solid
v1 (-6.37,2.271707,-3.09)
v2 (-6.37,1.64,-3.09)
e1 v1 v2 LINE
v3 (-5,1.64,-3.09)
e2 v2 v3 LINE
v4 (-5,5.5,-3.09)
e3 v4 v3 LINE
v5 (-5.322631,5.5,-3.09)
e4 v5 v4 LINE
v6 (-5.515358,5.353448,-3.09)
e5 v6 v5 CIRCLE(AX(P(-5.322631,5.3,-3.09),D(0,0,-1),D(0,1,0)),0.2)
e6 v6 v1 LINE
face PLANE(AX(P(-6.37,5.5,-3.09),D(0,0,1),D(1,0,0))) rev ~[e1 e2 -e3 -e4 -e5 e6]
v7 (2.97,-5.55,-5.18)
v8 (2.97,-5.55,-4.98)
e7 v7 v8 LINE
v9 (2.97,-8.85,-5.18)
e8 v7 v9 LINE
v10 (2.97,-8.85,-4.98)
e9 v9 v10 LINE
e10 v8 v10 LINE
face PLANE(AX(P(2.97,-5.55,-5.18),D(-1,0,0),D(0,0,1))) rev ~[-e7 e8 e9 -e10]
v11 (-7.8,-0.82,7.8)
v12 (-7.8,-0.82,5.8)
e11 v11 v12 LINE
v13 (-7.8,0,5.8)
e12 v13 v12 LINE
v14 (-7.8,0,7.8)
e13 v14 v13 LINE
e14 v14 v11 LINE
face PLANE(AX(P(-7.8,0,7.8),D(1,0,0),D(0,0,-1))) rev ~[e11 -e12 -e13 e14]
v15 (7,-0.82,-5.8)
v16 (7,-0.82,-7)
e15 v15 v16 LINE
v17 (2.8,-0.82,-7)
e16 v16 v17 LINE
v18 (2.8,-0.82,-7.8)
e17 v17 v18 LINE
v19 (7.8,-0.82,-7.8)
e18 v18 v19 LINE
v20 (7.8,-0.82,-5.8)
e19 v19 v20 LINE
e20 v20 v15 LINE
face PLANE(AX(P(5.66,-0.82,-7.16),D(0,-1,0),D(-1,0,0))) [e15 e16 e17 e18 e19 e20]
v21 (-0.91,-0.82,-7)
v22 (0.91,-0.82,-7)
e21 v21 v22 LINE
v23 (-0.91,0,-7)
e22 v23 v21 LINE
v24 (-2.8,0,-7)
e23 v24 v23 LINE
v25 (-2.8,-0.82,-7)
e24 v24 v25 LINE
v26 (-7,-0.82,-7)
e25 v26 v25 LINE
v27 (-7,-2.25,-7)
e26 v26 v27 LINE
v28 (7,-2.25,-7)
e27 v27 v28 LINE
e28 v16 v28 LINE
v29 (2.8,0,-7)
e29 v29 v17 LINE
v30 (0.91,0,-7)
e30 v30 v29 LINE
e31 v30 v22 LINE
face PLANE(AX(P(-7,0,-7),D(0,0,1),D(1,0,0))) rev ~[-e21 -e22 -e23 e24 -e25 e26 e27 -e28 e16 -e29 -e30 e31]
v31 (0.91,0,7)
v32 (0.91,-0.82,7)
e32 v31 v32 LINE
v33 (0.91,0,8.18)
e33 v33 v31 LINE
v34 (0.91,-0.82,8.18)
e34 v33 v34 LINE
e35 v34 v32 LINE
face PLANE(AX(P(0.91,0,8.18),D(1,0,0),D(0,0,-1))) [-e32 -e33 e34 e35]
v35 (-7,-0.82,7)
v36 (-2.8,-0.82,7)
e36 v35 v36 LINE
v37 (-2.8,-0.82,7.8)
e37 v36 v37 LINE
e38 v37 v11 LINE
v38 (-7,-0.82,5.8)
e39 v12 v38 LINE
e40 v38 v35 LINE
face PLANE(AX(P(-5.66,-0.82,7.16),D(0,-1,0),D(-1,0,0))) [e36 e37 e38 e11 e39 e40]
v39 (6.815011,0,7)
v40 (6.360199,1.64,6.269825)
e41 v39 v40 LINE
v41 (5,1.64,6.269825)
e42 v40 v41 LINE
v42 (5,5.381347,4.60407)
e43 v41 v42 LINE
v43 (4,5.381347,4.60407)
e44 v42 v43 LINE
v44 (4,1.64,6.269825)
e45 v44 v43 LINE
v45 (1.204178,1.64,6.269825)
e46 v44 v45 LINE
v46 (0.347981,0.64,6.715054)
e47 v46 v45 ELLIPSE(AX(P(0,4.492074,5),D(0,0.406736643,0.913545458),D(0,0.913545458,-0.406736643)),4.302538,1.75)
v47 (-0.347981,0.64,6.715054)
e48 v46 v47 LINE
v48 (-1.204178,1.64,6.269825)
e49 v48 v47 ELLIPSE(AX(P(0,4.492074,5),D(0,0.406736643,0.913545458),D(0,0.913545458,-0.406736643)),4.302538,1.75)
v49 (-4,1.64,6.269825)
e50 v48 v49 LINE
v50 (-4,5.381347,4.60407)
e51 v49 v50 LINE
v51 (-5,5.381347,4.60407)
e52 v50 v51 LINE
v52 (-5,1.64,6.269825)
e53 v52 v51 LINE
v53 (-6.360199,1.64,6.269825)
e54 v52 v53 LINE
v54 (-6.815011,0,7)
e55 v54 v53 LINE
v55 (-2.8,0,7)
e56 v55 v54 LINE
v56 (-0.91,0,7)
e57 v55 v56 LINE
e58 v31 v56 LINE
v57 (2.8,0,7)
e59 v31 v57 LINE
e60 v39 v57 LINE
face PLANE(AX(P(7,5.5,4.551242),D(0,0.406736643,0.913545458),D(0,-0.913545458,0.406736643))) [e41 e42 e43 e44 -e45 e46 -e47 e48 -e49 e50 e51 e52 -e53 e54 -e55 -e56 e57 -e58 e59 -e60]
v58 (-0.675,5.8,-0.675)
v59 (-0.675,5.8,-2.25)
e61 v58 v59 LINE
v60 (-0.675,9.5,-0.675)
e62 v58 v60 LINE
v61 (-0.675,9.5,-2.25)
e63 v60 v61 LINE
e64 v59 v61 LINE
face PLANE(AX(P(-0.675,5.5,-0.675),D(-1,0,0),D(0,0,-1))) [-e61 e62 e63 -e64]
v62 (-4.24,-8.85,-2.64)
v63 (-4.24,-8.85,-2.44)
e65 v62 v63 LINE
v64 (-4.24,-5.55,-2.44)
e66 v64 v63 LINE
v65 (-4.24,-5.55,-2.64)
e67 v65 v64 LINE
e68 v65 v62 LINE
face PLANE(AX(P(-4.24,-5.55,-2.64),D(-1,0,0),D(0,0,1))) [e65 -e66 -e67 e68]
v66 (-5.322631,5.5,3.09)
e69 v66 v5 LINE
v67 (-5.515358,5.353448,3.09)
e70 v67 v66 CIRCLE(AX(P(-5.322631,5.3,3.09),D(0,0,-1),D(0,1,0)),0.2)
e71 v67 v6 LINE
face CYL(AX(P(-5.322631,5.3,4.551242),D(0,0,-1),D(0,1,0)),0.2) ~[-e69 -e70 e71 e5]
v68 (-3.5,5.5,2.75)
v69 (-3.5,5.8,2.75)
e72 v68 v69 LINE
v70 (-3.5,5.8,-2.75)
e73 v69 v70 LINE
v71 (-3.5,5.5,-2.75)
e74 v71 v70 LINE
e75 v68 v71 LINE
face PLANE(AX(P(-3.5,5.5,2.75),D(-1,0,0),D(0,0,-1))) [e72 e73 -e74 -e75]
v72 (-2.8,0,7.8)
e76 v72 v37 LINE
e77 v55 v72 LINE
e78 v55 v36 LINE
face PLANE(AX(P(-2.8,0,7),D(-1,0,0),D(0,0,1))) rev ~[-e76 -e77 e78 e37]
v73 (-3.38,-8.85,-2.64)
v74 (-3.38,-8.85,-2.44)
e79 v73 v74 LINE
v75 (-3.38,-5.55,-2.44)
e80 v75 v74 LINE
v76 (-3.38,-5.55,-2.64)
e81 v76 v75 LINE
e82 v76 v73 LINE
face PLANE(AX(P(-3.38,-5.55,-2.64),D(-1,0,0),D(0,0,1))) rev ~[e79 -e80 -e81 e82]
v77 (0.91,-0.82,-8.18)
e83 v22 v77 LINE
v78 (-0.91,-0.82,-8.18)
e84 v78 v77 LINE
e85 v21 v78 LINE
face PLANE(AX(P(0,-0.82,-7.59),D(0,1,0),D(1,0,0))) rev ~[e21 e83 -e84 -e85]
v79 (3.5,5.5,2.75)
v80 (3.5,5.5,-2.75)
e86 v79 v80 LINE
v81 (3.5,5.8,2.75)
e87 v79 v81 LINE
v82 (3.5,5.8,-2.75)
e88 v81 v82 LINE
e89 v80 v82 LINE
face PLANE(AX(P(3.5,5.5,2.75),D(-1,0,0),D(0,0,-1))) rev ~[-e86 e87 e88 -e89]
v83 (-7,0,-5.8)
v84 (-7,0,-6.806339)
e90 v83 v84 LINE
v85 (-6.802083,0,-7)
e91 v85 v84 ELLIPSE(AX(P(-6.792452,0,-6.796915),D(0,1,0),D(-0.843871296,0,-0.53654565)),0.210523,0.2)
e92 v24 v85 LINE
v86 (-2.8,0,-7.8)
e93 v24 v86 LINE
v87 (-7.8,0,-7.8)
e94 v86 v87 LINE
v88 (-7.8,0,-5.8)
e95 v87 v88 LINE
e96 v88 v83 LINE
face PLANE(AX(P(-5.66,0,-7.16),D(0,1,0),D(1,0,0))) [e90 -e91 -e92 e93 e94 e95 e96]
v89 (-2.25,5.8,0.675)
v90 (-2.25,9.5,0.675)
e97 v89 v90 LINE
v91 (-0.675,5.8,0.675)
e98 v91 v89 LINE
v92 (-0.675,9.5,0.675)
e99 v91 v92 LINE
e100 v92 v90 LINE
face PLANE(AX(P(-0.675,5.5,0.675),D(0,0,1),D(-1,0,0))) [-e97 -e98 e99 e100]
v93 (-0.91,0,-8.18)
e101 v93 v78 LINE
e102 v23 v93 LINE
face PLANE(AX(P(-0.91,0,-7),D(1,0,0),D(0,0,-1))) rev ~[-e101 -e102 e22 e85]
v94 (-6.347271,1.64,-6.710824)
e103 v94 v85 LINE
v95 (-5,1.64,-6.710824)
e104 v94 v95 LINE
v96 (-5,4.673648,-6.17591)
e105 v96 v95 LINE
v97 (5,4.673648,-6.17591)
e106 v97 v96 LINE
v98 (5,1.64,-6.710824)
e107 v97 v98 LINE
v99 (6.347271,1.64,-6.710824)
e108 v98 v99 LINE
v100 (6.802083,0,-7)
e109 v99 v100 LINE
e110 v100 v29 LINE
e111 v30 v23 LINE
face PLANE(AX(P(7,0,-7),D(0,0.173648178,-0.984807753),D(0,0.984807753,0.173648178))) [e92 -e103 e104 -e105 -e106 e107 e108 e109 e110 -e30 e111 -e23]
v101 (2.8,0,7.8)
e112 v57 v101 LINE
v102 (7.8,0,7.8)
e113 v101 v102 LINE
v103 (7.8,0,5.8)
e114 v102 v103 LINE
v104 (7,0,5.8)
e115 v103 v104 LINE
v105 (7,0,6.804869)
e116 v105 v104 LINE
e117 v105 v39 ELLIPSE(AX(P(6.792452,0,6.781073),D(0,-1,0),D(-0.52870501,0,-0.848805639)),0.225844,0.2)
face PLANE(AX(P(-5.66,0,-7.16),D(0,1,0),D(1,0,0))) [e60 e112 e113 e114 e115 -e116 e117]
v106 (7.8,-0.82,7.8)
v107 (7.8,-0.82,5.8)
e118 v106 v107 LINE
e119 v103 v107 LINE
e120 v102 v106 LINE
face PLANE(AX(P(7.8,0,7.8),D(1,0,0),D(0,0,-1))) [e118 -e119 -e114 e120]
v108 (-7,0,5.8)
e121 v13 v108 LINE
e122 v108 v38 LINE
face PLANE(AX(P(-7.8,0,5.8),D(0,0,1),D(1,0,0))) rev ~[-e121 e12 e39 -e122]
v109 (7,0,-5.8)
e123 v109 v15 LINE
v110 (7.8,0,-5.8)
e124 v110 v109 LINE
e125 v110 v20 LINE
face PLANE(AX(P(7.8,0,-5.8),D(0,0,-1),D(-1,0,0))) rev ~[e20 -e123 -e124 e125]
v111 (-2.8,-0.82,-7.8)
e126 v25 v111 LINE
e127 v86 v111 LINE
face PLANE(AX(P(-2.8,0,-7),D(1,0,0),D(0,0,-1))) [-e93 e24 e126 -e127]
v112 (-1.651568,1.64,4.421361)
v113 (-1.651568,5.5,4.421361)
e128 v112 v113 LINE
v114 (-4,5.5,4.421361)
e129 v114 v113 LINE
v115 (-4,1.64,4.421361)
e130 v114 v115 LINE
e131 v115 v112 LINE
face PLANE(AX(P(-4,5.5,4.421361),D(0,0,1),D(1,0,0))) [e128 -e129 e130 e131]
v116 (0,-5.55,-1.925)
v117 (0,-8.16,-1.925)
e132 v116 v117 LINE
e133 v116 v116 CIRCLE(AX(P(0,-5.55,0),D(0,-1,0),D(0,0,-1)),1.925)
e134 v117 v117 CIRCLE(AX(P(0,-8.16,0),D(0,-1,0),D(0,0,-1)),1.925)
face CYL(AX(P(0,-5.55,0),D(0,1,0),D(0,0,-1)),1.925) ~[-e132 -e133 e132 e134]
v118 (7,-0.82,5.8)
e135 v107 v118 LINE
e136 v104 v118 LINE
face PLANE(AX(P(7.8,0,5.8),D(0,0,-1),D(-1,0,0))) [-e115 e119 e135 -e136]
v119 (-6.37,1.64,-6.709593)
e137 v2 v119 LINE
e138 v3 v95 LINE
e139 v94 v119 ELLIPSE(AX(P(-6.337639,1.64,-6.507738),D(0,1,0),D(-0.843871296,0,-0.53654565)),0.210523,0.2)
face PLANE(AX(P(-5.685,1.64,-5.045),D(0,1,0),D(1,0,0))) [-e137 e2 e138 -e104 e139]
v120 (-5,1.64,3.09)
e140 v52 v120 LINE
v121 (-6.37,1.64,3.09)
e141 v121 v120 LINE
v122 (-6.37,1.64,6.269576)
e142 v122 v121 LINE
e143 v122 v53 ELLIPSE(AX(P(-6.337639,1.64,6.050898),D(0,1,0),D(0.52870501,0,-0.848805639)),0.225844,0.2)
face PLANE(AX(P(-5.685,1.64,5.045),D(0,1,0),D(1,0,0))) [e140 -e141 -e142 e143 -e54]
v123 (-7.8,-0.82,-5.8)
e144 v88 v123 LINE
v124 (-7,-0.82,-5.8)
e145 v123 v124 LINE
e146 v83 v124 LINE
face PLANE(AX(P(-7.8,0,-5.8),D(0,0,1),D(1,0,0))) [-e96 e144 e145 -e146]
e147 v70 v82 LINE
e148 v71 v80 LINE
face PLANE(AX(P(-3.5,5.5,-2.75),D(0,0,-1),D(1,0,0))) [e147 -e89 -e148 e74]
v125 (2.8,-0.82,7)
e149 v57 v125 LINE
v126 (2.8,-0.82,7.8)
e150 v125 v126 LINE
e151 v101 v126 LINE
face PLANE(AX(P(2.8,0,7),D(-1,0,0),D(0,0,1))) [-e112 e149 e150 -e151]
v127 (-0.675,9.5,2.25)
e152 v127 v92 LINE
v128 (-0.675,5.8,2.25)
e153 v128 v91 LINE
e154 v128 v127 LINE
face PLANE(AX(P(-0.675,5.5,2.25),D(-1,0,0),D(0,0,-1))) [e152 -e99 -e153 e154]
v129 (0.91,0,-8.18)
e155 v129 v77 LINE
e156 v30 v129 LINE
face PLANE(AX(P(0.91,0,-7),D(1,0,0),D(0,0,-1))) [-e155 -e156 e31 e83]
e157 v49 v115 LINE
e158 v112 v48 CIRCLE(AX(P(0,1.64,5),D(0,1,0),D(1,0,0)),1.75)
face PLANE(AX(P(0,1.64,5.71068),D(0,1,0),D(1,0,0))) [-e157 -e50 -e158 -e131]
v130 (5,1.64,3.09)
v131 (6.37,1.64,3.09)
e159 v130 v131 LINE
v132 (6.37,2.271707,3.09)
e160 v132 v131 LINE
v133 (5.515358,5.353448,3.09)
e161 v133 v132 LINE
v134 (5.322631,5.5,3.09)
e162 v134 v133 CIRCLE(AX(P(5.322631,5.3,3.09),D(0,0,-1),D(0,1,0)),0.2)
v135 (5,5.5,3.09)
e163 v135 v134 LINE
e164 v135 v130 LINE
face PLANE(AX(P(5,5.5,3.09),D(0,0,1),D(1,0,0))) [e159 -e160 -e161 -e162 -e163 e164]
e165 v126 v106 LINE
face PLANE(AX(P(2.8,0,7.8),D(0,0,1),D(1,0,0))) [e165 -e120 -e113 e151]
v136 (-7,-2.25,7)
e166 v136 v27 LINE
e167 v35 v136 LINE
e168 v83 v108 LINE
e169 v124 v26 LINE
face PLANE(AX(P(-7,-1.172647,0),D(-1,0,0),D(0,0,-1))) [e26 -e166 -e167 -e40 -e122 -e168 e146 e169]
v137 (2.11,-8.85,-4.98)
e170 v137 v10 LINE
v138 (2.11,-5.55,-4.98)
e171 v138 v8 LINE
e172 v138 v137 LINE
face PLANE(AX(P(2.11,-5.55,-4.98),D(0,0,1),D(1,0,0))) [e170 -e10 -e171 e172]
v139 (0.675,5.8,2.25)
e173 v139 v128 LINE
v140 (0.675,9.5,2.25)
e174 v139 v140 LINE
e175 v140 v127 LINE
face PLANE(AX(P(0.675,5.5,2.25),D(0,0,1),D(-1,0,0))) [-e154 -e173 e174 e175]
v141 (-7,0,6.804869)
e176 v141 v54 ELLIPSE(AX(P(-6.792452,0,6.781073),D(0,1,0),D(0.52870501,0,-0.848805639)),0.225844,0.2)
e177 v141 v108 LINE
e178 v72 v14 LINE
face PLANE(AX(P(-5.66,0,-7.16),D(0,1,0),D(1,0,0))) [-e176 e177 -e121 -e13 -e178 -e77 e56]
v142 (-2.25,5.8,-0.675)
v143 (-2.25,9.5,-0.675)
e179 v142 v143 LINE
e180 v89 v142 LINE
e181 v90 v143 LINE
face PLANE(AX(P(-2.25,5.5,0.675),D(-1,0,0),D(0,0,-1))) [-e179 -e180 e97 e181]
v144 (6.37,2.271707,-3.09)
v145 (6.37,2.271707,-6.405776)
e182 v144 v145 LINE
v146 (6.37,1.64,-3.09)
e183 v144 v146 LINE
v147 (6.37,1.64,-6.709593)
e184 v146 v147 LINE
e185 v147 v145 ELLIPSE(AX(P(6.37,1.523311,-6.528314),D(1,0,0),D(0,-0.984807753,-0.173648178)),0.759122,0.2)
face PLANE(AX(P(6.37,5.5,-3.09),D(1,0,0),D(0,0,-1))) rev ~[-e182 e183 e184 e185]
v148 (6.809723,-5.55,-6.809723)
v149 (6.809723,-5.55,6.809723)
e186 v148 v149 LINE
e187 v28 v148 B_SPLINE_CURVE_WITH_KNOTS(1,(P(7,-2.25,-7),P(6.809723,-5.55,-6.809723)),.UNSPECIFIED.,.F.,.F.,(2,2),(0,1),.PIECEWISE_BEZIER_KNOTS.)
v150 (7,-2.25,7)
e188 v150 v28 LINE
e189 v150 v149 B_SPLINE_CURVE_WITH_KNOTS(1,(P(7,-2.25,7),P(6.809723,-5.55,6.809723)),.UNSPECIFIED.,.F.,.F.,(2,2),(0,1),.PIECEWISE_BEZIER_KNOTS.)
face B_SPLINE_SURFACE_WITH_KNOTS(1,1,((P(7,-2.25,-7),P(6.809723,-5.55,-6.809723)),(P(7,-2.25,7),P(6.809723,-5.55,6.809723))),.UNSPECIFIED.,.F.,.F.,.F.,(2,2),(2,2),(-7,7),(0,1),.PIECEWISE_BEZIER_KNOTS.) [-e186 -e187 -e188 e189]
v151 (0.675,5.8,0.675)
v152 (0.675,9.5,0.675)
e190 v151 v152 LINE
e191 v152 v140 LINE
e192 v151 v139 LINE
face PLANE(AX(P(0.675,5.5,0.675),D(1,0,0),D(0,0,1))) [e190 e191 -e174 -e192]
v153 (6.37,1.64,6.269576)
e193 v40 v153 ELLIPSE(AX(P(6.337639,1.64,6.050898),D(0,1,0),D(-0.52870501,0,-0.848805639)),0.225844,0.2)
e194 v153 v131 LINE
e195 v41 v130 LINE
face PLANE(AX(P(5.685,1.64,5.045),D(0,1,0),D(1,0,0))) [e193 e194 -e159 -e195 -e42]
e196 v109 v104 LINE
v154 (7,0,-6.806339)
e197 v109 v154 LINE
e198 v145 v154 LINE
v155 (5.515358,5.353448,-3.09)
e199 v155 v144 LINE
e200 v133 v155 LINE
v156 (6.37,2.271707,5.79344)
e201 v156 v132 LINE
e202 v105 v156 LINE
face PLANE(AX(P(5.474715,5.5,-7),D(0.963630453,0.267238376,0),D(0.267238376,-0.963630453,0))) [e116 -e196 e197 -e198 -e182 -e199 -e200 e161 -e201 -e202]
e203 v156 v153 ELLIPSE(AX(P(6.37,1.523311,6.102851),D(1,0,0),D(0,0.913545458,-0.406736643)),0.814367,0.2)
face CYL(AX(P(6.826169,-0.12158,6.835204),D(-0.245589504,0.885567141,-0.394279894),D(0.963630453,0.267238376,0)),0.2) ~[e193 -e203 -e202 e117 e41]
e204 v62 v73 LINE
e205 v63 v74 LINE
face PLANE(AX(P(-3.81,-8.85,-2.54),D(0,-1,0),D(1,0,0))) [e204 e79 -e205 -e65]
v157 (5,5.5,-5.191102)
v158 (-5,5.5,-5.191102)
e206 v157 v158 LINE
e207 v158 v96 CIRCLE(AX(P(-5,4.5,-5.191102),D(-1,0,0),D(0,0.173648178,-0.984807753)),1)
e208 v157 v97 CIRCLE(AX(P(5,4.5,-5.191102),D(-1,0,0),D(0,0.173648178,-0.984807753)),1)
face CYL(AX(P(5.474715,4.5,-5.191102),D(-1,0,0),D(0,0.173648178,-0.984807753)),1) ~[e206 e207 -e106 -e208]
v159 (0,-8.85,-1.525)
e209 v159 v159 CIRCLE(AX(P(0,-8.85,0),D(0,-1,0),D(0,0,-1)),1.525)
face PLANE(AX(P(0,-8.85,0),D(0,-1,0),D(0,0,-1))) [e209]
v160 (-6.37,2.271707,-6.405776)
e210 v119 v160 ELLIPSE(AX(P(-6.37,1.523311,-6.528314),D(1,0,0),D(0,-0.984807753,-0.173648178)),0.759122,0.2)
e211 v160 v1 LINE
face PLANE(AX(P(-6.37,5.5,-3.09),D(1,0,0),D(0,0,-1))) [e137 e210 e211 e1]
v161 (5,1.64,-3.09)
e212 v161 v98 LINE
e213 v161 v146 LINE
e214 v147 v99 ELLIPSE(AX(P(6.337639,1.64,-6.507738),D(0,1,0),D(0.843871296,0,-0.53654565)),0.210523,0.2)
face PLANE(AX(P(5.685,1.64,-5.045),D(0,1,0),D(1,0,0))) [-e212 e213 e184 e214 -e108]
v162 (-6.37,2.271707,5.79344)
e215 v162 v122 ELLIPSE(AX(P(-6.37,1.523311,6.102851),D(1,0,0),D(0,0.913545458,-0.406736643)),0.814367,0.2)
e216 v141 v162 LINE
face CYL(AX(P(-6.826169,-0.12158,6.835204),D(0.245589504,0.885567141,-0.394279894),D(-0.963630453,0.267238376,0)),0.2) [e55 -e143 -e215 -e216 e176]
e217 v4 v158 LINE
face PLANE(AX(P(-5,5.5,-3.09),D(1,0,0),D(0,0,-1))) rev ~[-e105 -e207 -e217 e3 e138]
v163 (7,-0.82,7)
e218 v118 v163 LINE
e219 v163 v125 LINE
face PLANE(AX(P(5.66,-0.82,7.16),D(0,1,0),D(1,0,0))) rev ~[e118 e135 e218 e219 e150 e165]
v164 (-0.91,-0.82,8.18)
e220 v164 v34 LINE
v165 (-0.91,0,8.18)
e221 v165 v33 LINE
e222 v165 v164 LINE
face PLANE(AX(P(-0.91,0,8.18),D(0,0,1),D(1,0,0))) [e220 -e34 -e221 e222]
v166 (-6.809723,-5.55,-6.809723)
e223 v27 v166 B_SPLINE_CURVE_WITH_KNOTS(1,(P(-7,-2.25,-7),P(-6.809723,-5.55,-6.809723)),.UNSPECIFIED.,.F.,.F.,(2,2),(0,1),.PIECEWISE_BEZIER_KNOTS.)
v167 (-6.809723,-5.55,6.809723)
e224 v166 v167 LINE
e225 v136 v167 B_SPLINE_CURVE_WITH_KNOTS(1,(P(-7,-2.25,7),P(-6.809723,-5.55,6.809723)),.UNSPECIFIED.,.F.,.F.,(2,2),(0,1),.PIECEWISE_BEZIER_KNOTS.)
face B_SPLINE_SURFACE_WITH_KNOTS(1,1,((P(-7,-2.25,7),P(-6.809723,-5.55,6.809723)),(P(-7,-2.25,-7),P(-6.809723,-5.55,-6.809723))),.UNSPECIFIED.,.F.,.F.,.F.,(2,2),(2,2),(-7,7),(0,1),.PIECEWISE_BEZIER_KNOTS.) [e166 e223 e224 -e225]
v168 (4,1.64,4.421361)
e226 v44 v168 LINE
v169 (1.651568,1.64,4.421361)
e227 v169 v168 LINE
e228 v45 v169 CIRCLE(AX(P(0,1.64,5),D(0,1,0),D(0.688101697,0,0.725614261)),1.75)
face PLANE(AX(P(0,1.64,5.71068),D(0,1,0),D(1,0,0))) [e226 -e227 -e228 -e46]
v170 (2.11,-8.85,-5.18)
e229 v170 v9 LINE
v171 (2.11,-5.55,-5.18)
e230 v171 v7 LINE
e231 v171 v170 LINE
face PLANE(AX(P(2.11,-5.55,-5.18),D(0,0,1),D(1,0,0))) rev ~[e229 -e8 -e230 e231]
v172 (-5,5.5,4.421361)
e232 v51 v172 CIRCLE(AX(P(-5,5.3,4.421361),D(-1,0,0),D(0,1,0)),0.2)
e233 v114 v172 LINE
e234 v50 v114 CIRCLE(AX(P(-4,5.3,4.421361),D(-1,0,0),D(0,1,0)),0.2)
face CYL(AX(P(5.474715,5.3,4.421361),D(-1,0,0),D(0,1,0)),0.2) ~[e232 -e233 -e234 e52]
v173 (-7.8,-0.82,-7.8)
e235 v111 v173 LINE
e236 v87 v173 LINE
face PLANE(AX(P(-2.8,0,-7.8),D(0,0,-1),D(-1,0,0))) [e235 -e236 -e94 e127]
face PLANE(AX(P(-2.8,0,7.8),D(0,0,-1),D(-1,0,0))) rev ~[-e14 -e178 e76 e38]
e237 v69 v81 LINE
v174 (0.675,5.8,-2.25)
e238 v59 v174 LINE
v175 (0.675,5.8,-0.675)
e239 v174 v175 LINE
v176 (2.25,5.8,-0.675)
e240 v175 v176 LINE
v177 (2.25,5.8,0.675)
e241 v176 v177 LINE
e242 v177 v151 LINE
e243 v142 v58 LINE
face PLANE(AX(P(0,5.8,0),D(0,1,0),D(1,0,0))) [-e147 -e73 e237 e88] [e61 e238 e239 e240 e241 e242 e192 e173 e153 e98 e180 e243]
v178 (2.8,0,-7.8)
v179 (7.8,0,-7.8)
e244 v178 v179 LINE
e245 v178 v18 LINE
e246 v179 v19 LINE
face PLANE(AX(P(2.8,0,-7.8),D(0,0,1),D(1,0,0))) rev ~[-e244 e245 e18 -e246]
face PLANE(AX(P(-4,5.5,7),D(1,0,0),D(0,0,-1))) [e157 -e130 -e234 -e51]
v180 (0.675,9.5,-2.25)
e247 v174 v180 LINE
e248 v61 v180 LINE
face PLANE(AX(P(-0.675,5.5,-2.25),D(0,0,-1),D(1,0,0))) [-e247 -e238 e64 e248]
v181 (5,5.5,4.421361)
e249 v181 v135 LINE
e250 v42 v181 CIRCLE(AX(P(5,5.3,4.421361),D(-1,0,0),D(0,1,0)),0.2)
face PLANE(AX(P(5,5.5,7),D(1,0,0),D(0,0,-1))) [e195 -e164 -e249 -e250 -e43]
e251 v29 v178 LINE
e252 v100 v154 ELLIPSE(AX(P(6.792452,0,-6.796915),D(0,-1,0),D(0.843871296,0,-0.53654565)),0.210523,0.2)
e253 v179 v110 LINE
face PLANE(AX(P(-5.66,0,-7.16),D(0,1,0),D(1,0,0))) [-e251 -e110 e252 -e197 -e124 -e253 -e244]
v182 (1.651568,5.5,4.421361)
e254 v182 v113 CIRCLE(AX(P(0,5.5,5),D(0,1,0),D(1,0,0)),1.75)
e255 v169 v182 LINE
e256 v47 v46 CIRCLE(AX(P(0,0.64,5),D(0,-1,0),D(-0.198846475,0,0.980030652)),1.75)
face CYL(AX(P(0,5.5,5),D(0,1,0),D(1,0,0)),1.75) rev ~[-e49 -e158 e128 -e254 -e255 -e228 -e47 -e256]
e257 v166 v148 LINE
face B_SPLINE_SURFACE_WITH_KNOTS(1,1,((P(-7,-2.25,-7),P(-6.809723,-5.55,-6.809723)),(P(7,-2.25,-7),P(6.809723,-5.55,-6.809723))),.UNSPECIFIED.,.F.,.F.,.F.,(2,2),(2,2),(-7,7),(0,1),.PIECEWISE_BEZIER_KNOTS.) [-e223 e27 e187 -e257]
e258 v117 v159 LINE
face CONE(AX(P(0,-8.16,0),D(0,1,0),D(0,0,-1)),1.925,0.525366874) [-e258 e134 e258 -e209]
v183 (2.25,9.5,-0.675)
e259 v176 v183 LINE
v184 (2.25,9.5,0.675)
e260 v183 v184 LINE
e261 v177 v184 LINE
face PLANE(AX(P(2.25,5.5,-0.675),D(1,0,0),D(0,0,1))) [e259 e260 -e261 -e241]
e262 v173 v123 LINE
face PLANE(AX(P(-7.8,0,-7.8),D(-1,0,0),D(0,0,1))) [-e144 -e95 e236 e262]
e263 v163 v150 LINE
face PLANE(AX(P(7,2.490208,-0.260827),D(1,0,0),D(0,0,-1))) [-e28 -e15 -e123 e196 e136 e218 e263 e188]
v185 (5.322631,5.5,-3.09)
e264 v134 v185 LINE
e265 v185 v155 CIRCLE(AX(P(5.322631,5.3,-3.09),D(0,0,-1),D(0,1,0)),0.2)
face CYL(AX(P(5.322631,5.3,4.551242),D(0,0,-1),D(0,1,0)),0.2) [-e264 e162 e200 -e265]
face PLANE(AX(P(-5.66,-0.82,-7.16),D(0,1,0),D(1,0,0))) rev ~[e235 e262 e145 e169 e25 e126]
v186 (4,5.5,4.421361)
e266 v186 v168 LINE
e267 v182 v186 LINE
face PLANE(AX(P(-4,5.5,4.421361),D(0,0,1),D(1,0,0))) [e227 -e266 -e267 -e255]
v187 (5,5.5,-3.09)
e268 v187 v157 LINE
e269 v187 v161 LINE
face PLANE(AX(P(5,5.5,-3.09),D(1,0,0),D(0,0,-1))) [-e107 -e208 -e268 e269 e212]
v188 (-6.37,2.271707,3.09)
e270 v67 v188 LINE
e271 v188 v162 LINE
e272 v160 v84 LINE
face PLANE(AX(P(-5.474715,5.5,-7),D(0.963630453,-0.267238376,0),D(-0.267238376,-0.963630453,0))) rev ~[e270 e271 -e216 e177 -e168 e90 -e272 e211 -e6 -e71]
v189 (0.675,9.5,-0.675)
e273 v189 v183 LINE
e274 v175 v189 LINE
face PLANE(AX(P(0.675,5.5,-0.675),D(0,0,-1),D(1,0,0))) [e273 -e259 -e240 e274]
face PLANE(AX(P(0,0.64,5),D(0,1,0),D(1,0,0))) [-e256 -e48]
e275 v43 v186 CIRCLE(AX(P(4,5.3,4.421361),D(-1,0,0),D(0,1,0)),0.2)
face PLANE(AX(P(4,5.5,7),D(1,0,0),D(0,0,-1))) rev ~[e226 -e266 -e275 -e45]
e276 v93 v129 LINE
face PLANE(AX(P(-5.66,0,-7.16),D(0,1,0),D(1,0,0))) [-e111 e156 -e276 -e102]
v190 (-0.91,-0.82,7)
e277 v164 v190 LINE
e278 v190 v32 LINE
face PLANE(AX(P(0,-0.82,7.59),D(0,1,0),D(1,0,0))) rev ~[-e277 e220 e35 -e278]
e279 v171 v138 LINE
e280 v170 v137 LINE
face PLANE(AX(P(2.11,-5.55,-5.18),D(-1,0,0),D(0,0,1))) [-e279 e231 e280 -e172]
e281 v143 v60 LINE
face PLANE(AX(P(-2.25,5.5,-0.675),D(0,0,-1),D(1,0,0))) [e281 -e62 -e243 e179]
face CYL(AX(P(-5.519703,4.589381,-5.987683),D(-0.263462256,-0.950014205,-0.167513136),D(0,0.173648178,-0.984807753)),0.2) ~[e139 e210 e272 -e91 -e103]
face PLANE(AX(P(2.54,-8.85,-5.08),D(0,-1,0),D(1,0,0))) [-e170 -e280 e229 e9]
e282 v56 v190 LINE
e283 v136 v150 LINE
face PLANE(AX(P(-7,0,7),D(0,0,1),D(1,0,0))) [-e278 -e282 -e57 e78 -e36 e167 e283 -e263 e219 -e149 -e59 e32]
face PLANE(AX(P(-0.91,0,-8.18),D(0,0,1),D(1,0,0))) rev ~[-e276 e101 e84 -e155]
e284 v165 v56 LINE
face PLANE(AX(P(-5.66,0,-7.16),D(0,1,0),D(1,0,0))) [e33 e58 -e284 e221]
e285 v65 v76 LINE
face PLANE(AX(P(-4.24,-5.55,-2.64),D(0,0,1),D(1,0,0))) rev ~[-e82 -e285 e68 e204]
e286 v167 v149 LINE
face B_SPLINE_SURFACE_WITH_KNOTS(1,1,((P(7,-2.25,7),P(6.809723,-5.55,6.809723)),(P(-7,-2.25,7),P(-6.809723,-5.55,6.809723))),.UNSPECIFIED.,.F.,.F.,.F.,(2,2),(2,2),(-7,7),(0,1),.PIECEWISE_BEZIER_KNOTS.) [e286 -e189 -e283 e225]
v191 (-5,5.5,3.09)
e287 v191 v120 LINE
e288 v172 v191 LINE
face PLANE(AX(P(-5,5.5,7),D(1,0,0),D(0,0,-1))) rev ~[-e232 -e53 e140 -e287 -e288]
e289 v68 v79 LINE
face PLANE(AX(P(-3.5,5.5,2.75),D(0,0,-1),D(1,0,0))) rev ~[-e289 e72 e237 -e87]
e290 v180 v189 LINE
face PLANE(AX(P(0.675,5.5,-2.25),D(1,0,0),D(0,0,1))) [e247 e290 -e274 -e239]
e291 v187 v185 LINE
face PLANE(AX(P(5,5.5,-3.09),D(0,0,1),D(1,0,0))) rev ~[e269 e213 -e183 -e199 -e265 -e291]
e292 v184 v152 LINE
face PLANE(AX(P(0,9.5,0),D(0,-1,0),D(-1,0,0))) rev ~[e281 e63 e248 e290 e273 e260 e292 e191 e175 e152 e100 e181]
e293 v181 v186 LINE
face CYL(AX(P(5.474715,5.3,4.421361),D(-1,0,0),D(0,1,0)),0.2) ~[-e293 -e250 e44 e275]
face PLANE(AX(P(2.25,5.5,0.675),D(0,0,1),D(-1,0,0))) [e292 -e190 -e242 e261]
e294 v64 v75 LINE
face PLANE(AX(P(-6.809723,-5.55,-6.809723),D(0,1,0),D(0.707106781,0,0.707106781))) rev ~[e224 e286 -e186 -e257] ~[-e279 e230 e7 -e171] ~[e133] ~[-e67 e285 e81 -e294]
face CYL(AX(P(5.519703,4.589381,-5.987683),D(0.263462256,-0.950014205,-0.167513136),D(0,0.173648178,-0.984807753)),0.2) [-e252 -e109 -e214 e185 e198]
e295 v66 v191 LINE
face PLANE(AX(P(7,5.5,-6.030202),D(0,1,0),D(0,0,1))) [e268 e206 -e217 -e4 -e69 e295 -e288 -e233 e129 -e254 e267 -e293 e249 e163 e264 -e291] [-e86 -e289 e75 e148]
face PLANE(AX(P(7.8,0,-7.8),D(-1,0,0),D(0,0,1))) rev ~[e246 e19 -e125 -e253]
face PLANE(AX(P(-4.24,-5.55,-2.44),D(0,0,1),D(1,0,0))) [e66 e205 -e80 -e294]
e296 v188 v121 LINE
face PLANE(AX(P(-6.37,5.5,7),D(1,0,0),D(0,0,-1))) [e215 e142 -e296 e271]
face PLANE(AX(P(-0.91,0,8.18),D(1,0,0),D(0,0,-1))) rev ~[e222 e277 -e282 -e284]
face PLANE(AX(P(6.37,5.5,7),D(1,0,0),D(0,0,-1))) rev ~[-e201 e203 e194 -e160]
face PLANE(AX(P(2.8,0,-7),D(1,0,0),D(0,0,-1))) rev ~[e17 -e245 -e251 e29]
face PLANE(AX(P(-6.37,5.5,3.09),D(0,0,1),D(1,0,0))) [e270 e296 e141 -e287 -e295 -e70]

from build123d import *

# Parameters (mm, degrees)
SKETCH1_W           = 14
SKETCH1_H           = 14
BOSS_EXTRUDE1_DEPTH = 2.25
SKETCH2_W           = 14
SKETCH2_H           = 14
BOSS_EXTRUDE2_DEPTH = 3.3
BOSS_EXTRUDE2_TAPER = 3.3
SKETCH3_R           = 1.925
BOSS_EXTRUDE3_DEPTH = 3.3
CHAMFER1_SIZE       = 0.69
CHAMFER1_SIZE2      = 0.4
SKETCH4_W           = 0.86
SKETCH4_H           = 0.2
BOSS_EXTRUDE4_DEPTH = 3.3
SKETCH5_W           = 1.82
SKETCH5_H           = 1.18
BOSS_EXTRUDE5_DEPTH = 0.82
BOSS_EXTRUDE6_REACH = 21.086
CUT_EXTRUDE2_START  = -14
CUT_EXTRUDE2_DEPTH  = 14
FILLET1_R           = 1
FILLET2_R           = 0.2
SKETCH9_W           = 1.37
SKETCH9_H           = 3.91
SKETCH9_W_2         = 8
SKETCH9_H_2         = 2.578639288
CUT_EXTRUDE3_DEPTH  = 3.86
SKETCH10_R          = 1.75
CUT_EXTRUDE4_DEPTH  = 4.86
BOSS_EXTRUDE7_DEPTH = 4
SKETCH12_W          = 7
SKETCH12_H          = 5.5
BOSS_EXTRUDE8_DEPTH = 0.3


with BuildPart() as part:
    # Sketch1 → Boss-Extrude1 (new body)
    with BuildSketch(Plane(origin=(0, 0, 0), x_dir=(1, 0, 0), z_dir=(0, 1, 0))):
        Rectangle(SKETCH1_W, SKETCH1_H)
    extrude(amount=-BOSS_EXTRUDE1_DEPTH)

    # Sketch2 → Boss-Extrude2 (add)
    with BuildSketch(Plane.XZ.offset(2.25)):
        Rectangle(SKETCH2_W, SKETCH2_H)
    extrude(amount=BOSS_EXTRUDE2_DEPTH, taper=BOSS_EXTRUDE2_TAPER)

    # Sketch3 → Boss-Extrude3 (add)
    with BuildSketch(Plane.XZ.offset(5.55)):
        with Locations(Location((0, 0, 0), (0, 0, 270))):
            Circle(SKETCH3_R)
    extrude(amount=BOSS_EXTRUDE3_DEPTH)

    # Chamfer1
    chamfer1_edges = [part.edges().sort_by_distance(p)[0] for p in [
        (0, -8.85, 1.925),
    ]]
    chamfer1_side = [part.faces().sort_by_distance(p)[0] for p in [
        (0, -7.2, 1.925),
    ]]
    chamfer(chamfer1_edges, length=CHAMFER1_SIZE, length2=CHAMFER1_SIZE2, reference=chamfer1_side[0])

    # Sketch4 → Boss-Extrude4 (add)
    with BuildSketch(Plane.XZ.offset(5.55)):
        with Locations((-3.81, -2.54)):
            Rectangle(SKETCH4_W, SKETCH4_H)
        with Locations((2.54, -5.08)):
            Rectangle(SKETCH4_W, SKETCH4_H)
    extrude(amount=BOSS_EXTRUDE4_DEPTH)

    # Sketch5 → Boss-Extrude5 (add)
    with BuildSketch(Plane(origin=(0, 0, 0), x_dir=(1, 0, 0), z_dir=(0, 1, 0))):
        with Locations((0, 7.59)):
            Rectangle(SKETCH5_W, SKETCH5_H)
        Polygon((-2.8, 7), (-2.8, 7.8), (-7.8, 7.8), (-7.8, 5.8), (-7, 5.8), (-7, 7), align=None)
        Polygon((7, 7), (2.8, 7), (2.8, 7.8), (7.8, 7.8), (7.8, 5.8), (7, 5.8), align=None)
        with Locations((0, -7.59)):
            Rectangle(SKETCH5_W, SKETCH5_H)
        Polygon((2.8, -7), (2.8, -7.8), (7.8, -7.8), (7.8, -5.8), (7, -5.8), (7, -7), align=None)
        Polygon((-7, -7), (-2.8, -7), (-2.8, -7.8), (-7.8, -7.8), (-7.8, -5.8), (-7, -5.8), align=None)
    extrude(amount=-BOSS_EXTRUDE5_DEPTH)

    # Boss-Extrude6: up to this face of the body (flat: up to its plane)
    boss_extrude6_end = Plane(part.part.faces().sort_by_distance((-7, -1.172647298, 0))[0])
    # Sketch6 → Boss-Extrude6 (add, up to the picked face)
    with BuildSketch(Plane(origin=(7, 0, 0), x_dir=(0, 0, -1), z_dir=(1, 0, 0)), mode=Mode.PRIVATE) as boss_extrude6_sk1:
        Polygon((7, 0), (6.030201606, 5.5), (-4.551242231, 5.5), (-7, 0), align=None)
    boss_extrude6_tool1 = split(extrude(boss_extrude6_sk1.sketch, amount=-BOSS_EXTRUDE6_REACH, mode=Mode.PRIVATE), bisect_by=boss_extrude6_end, keep=Keep.BOTH, mode=Mode.PRIVATE)
    add(boss_extrude6_tool1.solids().sort_by(Axis((7, 2.622519, -0.3526), (-1, 0, 0)))[0])

    # Sketch8 → Cut-Extrude2 (cut)
    with BuildSketch(Plane.XY.offset(7).offset(CUT_EXTRUDE2_START)):
        Polygon((-5.474715008, 5.5), (-7, 0), (-7, 5.5), align=None)
        Polygon((7, 5.5), (5.474715008, 5.5), (7, 0), align=None)
    extrude(amount=CUT_EXTRUDE2_DEPTH, mode=Mode.SUBTRACT)

    # Fillet1
    fillet1_edges = [part.edges().sort_by_distance(p)[0] for p in [
        (0, 5.5, -6.030201606),
    ]]
    fillet(fillet1_edges, radius=FILLET1_R)

    # Fillet2
    fillet2_edges = [part.edges().sort_by_distance(p)[0] for p in [
        (0, 5.5, 4.551242231),
        (6.237357504, 2.75, 5.775621115),
        (-6.237357504, 2.75, 5.775621115),
        (6.351941325, 2.336824089, -6.587954864),
        (-6.351941325, 2.336824089, -6.587954864),
        (5.474715008, 5.5, -0.319929872),
        (5.540952526, 5.261155225, -5.839671727),
        (-5.474715008, 5.5, -0.319929872),
        (-5.540952526, 5.261155225, -5.839671727),
    ]]
    fillet(fillet2_edges, radius=FILLET2_R)

    # Sketch9 → Cut-Extrude3 (cut)
    with BuildSketch(Plane(origin=(0, 5.5, 0), x_dir=(1, 0, 0), z_dir=(0, 1, 0))):
        with Locations((-5.685, 5.045)):
            Rectangle(SKETCH9_W, SKETCH9_H)
        with Locations((5.685, 5.045)):
            Rectangle(SKETCH9_W, SKETCH9_H)
        with Locations((5.685, -5.045)):
            Rectangle(SKETCH9_W, SKETCH9_H)
        with Locations((-5.685, -5.045)):
            Rectangle(SKETCH9_W, SKETCH9_H)
        with Locations((0, -5.710680356)):
            Rectangle(SKETCH9_W_2, SKETCH9_H_2)
    extrude(amount=-CUT_EXTRUDE3_DEPTH, mode=Mode.SUBTRACT)

    # Sketch10 → Cut-Extrude4 (cut)
    with BuildSketch(Plane(origin=(0, 5.5, 0), x_dir=(1, 0, 0), z_dir=(0, 1, 0))):
        with Locations((0, -5)):
            Circle(SKETCH10_R)
    extrude(amount=-CUT_EXTRUDE4_DEPTH, mode=Mode.SUBTRACT)

    # Sketch11 → Boss-Extrude7 (add)
    with BuildSketch(Plane(origin=(0, 5.5, 0), x_dir=(1, 0, 0), z_dir=(0, 1, 0))):
        Polygon((0.675, -2.25), (-0.675, -2.25), (-0.675, -0.675), (-2.25, -0.675), (-2.25, 0.675), (-0.675, 0.675), (-0.675, 2.25), (0.675, 2.25), (0.675, 0.675), (2.25, 0.675), (2.25, -0.675), (0.675, -0.675), align=None)
    extrude(amount=BOSS_EXTRUDE7_DEPTH)

    # Sketch12 → Boss-Extrude8 (add)
    with BuildSketch(Plane(origin=(0, 5.5, 0), x_dir=(1, 0, 0), z_dir=(0, 1, 0))):
        Rectangle(SKETCH12_W, SKETCH12_H)
    extrude(amount=BOSS_EXTRUDE8_DEPTH)


solid = part.part
